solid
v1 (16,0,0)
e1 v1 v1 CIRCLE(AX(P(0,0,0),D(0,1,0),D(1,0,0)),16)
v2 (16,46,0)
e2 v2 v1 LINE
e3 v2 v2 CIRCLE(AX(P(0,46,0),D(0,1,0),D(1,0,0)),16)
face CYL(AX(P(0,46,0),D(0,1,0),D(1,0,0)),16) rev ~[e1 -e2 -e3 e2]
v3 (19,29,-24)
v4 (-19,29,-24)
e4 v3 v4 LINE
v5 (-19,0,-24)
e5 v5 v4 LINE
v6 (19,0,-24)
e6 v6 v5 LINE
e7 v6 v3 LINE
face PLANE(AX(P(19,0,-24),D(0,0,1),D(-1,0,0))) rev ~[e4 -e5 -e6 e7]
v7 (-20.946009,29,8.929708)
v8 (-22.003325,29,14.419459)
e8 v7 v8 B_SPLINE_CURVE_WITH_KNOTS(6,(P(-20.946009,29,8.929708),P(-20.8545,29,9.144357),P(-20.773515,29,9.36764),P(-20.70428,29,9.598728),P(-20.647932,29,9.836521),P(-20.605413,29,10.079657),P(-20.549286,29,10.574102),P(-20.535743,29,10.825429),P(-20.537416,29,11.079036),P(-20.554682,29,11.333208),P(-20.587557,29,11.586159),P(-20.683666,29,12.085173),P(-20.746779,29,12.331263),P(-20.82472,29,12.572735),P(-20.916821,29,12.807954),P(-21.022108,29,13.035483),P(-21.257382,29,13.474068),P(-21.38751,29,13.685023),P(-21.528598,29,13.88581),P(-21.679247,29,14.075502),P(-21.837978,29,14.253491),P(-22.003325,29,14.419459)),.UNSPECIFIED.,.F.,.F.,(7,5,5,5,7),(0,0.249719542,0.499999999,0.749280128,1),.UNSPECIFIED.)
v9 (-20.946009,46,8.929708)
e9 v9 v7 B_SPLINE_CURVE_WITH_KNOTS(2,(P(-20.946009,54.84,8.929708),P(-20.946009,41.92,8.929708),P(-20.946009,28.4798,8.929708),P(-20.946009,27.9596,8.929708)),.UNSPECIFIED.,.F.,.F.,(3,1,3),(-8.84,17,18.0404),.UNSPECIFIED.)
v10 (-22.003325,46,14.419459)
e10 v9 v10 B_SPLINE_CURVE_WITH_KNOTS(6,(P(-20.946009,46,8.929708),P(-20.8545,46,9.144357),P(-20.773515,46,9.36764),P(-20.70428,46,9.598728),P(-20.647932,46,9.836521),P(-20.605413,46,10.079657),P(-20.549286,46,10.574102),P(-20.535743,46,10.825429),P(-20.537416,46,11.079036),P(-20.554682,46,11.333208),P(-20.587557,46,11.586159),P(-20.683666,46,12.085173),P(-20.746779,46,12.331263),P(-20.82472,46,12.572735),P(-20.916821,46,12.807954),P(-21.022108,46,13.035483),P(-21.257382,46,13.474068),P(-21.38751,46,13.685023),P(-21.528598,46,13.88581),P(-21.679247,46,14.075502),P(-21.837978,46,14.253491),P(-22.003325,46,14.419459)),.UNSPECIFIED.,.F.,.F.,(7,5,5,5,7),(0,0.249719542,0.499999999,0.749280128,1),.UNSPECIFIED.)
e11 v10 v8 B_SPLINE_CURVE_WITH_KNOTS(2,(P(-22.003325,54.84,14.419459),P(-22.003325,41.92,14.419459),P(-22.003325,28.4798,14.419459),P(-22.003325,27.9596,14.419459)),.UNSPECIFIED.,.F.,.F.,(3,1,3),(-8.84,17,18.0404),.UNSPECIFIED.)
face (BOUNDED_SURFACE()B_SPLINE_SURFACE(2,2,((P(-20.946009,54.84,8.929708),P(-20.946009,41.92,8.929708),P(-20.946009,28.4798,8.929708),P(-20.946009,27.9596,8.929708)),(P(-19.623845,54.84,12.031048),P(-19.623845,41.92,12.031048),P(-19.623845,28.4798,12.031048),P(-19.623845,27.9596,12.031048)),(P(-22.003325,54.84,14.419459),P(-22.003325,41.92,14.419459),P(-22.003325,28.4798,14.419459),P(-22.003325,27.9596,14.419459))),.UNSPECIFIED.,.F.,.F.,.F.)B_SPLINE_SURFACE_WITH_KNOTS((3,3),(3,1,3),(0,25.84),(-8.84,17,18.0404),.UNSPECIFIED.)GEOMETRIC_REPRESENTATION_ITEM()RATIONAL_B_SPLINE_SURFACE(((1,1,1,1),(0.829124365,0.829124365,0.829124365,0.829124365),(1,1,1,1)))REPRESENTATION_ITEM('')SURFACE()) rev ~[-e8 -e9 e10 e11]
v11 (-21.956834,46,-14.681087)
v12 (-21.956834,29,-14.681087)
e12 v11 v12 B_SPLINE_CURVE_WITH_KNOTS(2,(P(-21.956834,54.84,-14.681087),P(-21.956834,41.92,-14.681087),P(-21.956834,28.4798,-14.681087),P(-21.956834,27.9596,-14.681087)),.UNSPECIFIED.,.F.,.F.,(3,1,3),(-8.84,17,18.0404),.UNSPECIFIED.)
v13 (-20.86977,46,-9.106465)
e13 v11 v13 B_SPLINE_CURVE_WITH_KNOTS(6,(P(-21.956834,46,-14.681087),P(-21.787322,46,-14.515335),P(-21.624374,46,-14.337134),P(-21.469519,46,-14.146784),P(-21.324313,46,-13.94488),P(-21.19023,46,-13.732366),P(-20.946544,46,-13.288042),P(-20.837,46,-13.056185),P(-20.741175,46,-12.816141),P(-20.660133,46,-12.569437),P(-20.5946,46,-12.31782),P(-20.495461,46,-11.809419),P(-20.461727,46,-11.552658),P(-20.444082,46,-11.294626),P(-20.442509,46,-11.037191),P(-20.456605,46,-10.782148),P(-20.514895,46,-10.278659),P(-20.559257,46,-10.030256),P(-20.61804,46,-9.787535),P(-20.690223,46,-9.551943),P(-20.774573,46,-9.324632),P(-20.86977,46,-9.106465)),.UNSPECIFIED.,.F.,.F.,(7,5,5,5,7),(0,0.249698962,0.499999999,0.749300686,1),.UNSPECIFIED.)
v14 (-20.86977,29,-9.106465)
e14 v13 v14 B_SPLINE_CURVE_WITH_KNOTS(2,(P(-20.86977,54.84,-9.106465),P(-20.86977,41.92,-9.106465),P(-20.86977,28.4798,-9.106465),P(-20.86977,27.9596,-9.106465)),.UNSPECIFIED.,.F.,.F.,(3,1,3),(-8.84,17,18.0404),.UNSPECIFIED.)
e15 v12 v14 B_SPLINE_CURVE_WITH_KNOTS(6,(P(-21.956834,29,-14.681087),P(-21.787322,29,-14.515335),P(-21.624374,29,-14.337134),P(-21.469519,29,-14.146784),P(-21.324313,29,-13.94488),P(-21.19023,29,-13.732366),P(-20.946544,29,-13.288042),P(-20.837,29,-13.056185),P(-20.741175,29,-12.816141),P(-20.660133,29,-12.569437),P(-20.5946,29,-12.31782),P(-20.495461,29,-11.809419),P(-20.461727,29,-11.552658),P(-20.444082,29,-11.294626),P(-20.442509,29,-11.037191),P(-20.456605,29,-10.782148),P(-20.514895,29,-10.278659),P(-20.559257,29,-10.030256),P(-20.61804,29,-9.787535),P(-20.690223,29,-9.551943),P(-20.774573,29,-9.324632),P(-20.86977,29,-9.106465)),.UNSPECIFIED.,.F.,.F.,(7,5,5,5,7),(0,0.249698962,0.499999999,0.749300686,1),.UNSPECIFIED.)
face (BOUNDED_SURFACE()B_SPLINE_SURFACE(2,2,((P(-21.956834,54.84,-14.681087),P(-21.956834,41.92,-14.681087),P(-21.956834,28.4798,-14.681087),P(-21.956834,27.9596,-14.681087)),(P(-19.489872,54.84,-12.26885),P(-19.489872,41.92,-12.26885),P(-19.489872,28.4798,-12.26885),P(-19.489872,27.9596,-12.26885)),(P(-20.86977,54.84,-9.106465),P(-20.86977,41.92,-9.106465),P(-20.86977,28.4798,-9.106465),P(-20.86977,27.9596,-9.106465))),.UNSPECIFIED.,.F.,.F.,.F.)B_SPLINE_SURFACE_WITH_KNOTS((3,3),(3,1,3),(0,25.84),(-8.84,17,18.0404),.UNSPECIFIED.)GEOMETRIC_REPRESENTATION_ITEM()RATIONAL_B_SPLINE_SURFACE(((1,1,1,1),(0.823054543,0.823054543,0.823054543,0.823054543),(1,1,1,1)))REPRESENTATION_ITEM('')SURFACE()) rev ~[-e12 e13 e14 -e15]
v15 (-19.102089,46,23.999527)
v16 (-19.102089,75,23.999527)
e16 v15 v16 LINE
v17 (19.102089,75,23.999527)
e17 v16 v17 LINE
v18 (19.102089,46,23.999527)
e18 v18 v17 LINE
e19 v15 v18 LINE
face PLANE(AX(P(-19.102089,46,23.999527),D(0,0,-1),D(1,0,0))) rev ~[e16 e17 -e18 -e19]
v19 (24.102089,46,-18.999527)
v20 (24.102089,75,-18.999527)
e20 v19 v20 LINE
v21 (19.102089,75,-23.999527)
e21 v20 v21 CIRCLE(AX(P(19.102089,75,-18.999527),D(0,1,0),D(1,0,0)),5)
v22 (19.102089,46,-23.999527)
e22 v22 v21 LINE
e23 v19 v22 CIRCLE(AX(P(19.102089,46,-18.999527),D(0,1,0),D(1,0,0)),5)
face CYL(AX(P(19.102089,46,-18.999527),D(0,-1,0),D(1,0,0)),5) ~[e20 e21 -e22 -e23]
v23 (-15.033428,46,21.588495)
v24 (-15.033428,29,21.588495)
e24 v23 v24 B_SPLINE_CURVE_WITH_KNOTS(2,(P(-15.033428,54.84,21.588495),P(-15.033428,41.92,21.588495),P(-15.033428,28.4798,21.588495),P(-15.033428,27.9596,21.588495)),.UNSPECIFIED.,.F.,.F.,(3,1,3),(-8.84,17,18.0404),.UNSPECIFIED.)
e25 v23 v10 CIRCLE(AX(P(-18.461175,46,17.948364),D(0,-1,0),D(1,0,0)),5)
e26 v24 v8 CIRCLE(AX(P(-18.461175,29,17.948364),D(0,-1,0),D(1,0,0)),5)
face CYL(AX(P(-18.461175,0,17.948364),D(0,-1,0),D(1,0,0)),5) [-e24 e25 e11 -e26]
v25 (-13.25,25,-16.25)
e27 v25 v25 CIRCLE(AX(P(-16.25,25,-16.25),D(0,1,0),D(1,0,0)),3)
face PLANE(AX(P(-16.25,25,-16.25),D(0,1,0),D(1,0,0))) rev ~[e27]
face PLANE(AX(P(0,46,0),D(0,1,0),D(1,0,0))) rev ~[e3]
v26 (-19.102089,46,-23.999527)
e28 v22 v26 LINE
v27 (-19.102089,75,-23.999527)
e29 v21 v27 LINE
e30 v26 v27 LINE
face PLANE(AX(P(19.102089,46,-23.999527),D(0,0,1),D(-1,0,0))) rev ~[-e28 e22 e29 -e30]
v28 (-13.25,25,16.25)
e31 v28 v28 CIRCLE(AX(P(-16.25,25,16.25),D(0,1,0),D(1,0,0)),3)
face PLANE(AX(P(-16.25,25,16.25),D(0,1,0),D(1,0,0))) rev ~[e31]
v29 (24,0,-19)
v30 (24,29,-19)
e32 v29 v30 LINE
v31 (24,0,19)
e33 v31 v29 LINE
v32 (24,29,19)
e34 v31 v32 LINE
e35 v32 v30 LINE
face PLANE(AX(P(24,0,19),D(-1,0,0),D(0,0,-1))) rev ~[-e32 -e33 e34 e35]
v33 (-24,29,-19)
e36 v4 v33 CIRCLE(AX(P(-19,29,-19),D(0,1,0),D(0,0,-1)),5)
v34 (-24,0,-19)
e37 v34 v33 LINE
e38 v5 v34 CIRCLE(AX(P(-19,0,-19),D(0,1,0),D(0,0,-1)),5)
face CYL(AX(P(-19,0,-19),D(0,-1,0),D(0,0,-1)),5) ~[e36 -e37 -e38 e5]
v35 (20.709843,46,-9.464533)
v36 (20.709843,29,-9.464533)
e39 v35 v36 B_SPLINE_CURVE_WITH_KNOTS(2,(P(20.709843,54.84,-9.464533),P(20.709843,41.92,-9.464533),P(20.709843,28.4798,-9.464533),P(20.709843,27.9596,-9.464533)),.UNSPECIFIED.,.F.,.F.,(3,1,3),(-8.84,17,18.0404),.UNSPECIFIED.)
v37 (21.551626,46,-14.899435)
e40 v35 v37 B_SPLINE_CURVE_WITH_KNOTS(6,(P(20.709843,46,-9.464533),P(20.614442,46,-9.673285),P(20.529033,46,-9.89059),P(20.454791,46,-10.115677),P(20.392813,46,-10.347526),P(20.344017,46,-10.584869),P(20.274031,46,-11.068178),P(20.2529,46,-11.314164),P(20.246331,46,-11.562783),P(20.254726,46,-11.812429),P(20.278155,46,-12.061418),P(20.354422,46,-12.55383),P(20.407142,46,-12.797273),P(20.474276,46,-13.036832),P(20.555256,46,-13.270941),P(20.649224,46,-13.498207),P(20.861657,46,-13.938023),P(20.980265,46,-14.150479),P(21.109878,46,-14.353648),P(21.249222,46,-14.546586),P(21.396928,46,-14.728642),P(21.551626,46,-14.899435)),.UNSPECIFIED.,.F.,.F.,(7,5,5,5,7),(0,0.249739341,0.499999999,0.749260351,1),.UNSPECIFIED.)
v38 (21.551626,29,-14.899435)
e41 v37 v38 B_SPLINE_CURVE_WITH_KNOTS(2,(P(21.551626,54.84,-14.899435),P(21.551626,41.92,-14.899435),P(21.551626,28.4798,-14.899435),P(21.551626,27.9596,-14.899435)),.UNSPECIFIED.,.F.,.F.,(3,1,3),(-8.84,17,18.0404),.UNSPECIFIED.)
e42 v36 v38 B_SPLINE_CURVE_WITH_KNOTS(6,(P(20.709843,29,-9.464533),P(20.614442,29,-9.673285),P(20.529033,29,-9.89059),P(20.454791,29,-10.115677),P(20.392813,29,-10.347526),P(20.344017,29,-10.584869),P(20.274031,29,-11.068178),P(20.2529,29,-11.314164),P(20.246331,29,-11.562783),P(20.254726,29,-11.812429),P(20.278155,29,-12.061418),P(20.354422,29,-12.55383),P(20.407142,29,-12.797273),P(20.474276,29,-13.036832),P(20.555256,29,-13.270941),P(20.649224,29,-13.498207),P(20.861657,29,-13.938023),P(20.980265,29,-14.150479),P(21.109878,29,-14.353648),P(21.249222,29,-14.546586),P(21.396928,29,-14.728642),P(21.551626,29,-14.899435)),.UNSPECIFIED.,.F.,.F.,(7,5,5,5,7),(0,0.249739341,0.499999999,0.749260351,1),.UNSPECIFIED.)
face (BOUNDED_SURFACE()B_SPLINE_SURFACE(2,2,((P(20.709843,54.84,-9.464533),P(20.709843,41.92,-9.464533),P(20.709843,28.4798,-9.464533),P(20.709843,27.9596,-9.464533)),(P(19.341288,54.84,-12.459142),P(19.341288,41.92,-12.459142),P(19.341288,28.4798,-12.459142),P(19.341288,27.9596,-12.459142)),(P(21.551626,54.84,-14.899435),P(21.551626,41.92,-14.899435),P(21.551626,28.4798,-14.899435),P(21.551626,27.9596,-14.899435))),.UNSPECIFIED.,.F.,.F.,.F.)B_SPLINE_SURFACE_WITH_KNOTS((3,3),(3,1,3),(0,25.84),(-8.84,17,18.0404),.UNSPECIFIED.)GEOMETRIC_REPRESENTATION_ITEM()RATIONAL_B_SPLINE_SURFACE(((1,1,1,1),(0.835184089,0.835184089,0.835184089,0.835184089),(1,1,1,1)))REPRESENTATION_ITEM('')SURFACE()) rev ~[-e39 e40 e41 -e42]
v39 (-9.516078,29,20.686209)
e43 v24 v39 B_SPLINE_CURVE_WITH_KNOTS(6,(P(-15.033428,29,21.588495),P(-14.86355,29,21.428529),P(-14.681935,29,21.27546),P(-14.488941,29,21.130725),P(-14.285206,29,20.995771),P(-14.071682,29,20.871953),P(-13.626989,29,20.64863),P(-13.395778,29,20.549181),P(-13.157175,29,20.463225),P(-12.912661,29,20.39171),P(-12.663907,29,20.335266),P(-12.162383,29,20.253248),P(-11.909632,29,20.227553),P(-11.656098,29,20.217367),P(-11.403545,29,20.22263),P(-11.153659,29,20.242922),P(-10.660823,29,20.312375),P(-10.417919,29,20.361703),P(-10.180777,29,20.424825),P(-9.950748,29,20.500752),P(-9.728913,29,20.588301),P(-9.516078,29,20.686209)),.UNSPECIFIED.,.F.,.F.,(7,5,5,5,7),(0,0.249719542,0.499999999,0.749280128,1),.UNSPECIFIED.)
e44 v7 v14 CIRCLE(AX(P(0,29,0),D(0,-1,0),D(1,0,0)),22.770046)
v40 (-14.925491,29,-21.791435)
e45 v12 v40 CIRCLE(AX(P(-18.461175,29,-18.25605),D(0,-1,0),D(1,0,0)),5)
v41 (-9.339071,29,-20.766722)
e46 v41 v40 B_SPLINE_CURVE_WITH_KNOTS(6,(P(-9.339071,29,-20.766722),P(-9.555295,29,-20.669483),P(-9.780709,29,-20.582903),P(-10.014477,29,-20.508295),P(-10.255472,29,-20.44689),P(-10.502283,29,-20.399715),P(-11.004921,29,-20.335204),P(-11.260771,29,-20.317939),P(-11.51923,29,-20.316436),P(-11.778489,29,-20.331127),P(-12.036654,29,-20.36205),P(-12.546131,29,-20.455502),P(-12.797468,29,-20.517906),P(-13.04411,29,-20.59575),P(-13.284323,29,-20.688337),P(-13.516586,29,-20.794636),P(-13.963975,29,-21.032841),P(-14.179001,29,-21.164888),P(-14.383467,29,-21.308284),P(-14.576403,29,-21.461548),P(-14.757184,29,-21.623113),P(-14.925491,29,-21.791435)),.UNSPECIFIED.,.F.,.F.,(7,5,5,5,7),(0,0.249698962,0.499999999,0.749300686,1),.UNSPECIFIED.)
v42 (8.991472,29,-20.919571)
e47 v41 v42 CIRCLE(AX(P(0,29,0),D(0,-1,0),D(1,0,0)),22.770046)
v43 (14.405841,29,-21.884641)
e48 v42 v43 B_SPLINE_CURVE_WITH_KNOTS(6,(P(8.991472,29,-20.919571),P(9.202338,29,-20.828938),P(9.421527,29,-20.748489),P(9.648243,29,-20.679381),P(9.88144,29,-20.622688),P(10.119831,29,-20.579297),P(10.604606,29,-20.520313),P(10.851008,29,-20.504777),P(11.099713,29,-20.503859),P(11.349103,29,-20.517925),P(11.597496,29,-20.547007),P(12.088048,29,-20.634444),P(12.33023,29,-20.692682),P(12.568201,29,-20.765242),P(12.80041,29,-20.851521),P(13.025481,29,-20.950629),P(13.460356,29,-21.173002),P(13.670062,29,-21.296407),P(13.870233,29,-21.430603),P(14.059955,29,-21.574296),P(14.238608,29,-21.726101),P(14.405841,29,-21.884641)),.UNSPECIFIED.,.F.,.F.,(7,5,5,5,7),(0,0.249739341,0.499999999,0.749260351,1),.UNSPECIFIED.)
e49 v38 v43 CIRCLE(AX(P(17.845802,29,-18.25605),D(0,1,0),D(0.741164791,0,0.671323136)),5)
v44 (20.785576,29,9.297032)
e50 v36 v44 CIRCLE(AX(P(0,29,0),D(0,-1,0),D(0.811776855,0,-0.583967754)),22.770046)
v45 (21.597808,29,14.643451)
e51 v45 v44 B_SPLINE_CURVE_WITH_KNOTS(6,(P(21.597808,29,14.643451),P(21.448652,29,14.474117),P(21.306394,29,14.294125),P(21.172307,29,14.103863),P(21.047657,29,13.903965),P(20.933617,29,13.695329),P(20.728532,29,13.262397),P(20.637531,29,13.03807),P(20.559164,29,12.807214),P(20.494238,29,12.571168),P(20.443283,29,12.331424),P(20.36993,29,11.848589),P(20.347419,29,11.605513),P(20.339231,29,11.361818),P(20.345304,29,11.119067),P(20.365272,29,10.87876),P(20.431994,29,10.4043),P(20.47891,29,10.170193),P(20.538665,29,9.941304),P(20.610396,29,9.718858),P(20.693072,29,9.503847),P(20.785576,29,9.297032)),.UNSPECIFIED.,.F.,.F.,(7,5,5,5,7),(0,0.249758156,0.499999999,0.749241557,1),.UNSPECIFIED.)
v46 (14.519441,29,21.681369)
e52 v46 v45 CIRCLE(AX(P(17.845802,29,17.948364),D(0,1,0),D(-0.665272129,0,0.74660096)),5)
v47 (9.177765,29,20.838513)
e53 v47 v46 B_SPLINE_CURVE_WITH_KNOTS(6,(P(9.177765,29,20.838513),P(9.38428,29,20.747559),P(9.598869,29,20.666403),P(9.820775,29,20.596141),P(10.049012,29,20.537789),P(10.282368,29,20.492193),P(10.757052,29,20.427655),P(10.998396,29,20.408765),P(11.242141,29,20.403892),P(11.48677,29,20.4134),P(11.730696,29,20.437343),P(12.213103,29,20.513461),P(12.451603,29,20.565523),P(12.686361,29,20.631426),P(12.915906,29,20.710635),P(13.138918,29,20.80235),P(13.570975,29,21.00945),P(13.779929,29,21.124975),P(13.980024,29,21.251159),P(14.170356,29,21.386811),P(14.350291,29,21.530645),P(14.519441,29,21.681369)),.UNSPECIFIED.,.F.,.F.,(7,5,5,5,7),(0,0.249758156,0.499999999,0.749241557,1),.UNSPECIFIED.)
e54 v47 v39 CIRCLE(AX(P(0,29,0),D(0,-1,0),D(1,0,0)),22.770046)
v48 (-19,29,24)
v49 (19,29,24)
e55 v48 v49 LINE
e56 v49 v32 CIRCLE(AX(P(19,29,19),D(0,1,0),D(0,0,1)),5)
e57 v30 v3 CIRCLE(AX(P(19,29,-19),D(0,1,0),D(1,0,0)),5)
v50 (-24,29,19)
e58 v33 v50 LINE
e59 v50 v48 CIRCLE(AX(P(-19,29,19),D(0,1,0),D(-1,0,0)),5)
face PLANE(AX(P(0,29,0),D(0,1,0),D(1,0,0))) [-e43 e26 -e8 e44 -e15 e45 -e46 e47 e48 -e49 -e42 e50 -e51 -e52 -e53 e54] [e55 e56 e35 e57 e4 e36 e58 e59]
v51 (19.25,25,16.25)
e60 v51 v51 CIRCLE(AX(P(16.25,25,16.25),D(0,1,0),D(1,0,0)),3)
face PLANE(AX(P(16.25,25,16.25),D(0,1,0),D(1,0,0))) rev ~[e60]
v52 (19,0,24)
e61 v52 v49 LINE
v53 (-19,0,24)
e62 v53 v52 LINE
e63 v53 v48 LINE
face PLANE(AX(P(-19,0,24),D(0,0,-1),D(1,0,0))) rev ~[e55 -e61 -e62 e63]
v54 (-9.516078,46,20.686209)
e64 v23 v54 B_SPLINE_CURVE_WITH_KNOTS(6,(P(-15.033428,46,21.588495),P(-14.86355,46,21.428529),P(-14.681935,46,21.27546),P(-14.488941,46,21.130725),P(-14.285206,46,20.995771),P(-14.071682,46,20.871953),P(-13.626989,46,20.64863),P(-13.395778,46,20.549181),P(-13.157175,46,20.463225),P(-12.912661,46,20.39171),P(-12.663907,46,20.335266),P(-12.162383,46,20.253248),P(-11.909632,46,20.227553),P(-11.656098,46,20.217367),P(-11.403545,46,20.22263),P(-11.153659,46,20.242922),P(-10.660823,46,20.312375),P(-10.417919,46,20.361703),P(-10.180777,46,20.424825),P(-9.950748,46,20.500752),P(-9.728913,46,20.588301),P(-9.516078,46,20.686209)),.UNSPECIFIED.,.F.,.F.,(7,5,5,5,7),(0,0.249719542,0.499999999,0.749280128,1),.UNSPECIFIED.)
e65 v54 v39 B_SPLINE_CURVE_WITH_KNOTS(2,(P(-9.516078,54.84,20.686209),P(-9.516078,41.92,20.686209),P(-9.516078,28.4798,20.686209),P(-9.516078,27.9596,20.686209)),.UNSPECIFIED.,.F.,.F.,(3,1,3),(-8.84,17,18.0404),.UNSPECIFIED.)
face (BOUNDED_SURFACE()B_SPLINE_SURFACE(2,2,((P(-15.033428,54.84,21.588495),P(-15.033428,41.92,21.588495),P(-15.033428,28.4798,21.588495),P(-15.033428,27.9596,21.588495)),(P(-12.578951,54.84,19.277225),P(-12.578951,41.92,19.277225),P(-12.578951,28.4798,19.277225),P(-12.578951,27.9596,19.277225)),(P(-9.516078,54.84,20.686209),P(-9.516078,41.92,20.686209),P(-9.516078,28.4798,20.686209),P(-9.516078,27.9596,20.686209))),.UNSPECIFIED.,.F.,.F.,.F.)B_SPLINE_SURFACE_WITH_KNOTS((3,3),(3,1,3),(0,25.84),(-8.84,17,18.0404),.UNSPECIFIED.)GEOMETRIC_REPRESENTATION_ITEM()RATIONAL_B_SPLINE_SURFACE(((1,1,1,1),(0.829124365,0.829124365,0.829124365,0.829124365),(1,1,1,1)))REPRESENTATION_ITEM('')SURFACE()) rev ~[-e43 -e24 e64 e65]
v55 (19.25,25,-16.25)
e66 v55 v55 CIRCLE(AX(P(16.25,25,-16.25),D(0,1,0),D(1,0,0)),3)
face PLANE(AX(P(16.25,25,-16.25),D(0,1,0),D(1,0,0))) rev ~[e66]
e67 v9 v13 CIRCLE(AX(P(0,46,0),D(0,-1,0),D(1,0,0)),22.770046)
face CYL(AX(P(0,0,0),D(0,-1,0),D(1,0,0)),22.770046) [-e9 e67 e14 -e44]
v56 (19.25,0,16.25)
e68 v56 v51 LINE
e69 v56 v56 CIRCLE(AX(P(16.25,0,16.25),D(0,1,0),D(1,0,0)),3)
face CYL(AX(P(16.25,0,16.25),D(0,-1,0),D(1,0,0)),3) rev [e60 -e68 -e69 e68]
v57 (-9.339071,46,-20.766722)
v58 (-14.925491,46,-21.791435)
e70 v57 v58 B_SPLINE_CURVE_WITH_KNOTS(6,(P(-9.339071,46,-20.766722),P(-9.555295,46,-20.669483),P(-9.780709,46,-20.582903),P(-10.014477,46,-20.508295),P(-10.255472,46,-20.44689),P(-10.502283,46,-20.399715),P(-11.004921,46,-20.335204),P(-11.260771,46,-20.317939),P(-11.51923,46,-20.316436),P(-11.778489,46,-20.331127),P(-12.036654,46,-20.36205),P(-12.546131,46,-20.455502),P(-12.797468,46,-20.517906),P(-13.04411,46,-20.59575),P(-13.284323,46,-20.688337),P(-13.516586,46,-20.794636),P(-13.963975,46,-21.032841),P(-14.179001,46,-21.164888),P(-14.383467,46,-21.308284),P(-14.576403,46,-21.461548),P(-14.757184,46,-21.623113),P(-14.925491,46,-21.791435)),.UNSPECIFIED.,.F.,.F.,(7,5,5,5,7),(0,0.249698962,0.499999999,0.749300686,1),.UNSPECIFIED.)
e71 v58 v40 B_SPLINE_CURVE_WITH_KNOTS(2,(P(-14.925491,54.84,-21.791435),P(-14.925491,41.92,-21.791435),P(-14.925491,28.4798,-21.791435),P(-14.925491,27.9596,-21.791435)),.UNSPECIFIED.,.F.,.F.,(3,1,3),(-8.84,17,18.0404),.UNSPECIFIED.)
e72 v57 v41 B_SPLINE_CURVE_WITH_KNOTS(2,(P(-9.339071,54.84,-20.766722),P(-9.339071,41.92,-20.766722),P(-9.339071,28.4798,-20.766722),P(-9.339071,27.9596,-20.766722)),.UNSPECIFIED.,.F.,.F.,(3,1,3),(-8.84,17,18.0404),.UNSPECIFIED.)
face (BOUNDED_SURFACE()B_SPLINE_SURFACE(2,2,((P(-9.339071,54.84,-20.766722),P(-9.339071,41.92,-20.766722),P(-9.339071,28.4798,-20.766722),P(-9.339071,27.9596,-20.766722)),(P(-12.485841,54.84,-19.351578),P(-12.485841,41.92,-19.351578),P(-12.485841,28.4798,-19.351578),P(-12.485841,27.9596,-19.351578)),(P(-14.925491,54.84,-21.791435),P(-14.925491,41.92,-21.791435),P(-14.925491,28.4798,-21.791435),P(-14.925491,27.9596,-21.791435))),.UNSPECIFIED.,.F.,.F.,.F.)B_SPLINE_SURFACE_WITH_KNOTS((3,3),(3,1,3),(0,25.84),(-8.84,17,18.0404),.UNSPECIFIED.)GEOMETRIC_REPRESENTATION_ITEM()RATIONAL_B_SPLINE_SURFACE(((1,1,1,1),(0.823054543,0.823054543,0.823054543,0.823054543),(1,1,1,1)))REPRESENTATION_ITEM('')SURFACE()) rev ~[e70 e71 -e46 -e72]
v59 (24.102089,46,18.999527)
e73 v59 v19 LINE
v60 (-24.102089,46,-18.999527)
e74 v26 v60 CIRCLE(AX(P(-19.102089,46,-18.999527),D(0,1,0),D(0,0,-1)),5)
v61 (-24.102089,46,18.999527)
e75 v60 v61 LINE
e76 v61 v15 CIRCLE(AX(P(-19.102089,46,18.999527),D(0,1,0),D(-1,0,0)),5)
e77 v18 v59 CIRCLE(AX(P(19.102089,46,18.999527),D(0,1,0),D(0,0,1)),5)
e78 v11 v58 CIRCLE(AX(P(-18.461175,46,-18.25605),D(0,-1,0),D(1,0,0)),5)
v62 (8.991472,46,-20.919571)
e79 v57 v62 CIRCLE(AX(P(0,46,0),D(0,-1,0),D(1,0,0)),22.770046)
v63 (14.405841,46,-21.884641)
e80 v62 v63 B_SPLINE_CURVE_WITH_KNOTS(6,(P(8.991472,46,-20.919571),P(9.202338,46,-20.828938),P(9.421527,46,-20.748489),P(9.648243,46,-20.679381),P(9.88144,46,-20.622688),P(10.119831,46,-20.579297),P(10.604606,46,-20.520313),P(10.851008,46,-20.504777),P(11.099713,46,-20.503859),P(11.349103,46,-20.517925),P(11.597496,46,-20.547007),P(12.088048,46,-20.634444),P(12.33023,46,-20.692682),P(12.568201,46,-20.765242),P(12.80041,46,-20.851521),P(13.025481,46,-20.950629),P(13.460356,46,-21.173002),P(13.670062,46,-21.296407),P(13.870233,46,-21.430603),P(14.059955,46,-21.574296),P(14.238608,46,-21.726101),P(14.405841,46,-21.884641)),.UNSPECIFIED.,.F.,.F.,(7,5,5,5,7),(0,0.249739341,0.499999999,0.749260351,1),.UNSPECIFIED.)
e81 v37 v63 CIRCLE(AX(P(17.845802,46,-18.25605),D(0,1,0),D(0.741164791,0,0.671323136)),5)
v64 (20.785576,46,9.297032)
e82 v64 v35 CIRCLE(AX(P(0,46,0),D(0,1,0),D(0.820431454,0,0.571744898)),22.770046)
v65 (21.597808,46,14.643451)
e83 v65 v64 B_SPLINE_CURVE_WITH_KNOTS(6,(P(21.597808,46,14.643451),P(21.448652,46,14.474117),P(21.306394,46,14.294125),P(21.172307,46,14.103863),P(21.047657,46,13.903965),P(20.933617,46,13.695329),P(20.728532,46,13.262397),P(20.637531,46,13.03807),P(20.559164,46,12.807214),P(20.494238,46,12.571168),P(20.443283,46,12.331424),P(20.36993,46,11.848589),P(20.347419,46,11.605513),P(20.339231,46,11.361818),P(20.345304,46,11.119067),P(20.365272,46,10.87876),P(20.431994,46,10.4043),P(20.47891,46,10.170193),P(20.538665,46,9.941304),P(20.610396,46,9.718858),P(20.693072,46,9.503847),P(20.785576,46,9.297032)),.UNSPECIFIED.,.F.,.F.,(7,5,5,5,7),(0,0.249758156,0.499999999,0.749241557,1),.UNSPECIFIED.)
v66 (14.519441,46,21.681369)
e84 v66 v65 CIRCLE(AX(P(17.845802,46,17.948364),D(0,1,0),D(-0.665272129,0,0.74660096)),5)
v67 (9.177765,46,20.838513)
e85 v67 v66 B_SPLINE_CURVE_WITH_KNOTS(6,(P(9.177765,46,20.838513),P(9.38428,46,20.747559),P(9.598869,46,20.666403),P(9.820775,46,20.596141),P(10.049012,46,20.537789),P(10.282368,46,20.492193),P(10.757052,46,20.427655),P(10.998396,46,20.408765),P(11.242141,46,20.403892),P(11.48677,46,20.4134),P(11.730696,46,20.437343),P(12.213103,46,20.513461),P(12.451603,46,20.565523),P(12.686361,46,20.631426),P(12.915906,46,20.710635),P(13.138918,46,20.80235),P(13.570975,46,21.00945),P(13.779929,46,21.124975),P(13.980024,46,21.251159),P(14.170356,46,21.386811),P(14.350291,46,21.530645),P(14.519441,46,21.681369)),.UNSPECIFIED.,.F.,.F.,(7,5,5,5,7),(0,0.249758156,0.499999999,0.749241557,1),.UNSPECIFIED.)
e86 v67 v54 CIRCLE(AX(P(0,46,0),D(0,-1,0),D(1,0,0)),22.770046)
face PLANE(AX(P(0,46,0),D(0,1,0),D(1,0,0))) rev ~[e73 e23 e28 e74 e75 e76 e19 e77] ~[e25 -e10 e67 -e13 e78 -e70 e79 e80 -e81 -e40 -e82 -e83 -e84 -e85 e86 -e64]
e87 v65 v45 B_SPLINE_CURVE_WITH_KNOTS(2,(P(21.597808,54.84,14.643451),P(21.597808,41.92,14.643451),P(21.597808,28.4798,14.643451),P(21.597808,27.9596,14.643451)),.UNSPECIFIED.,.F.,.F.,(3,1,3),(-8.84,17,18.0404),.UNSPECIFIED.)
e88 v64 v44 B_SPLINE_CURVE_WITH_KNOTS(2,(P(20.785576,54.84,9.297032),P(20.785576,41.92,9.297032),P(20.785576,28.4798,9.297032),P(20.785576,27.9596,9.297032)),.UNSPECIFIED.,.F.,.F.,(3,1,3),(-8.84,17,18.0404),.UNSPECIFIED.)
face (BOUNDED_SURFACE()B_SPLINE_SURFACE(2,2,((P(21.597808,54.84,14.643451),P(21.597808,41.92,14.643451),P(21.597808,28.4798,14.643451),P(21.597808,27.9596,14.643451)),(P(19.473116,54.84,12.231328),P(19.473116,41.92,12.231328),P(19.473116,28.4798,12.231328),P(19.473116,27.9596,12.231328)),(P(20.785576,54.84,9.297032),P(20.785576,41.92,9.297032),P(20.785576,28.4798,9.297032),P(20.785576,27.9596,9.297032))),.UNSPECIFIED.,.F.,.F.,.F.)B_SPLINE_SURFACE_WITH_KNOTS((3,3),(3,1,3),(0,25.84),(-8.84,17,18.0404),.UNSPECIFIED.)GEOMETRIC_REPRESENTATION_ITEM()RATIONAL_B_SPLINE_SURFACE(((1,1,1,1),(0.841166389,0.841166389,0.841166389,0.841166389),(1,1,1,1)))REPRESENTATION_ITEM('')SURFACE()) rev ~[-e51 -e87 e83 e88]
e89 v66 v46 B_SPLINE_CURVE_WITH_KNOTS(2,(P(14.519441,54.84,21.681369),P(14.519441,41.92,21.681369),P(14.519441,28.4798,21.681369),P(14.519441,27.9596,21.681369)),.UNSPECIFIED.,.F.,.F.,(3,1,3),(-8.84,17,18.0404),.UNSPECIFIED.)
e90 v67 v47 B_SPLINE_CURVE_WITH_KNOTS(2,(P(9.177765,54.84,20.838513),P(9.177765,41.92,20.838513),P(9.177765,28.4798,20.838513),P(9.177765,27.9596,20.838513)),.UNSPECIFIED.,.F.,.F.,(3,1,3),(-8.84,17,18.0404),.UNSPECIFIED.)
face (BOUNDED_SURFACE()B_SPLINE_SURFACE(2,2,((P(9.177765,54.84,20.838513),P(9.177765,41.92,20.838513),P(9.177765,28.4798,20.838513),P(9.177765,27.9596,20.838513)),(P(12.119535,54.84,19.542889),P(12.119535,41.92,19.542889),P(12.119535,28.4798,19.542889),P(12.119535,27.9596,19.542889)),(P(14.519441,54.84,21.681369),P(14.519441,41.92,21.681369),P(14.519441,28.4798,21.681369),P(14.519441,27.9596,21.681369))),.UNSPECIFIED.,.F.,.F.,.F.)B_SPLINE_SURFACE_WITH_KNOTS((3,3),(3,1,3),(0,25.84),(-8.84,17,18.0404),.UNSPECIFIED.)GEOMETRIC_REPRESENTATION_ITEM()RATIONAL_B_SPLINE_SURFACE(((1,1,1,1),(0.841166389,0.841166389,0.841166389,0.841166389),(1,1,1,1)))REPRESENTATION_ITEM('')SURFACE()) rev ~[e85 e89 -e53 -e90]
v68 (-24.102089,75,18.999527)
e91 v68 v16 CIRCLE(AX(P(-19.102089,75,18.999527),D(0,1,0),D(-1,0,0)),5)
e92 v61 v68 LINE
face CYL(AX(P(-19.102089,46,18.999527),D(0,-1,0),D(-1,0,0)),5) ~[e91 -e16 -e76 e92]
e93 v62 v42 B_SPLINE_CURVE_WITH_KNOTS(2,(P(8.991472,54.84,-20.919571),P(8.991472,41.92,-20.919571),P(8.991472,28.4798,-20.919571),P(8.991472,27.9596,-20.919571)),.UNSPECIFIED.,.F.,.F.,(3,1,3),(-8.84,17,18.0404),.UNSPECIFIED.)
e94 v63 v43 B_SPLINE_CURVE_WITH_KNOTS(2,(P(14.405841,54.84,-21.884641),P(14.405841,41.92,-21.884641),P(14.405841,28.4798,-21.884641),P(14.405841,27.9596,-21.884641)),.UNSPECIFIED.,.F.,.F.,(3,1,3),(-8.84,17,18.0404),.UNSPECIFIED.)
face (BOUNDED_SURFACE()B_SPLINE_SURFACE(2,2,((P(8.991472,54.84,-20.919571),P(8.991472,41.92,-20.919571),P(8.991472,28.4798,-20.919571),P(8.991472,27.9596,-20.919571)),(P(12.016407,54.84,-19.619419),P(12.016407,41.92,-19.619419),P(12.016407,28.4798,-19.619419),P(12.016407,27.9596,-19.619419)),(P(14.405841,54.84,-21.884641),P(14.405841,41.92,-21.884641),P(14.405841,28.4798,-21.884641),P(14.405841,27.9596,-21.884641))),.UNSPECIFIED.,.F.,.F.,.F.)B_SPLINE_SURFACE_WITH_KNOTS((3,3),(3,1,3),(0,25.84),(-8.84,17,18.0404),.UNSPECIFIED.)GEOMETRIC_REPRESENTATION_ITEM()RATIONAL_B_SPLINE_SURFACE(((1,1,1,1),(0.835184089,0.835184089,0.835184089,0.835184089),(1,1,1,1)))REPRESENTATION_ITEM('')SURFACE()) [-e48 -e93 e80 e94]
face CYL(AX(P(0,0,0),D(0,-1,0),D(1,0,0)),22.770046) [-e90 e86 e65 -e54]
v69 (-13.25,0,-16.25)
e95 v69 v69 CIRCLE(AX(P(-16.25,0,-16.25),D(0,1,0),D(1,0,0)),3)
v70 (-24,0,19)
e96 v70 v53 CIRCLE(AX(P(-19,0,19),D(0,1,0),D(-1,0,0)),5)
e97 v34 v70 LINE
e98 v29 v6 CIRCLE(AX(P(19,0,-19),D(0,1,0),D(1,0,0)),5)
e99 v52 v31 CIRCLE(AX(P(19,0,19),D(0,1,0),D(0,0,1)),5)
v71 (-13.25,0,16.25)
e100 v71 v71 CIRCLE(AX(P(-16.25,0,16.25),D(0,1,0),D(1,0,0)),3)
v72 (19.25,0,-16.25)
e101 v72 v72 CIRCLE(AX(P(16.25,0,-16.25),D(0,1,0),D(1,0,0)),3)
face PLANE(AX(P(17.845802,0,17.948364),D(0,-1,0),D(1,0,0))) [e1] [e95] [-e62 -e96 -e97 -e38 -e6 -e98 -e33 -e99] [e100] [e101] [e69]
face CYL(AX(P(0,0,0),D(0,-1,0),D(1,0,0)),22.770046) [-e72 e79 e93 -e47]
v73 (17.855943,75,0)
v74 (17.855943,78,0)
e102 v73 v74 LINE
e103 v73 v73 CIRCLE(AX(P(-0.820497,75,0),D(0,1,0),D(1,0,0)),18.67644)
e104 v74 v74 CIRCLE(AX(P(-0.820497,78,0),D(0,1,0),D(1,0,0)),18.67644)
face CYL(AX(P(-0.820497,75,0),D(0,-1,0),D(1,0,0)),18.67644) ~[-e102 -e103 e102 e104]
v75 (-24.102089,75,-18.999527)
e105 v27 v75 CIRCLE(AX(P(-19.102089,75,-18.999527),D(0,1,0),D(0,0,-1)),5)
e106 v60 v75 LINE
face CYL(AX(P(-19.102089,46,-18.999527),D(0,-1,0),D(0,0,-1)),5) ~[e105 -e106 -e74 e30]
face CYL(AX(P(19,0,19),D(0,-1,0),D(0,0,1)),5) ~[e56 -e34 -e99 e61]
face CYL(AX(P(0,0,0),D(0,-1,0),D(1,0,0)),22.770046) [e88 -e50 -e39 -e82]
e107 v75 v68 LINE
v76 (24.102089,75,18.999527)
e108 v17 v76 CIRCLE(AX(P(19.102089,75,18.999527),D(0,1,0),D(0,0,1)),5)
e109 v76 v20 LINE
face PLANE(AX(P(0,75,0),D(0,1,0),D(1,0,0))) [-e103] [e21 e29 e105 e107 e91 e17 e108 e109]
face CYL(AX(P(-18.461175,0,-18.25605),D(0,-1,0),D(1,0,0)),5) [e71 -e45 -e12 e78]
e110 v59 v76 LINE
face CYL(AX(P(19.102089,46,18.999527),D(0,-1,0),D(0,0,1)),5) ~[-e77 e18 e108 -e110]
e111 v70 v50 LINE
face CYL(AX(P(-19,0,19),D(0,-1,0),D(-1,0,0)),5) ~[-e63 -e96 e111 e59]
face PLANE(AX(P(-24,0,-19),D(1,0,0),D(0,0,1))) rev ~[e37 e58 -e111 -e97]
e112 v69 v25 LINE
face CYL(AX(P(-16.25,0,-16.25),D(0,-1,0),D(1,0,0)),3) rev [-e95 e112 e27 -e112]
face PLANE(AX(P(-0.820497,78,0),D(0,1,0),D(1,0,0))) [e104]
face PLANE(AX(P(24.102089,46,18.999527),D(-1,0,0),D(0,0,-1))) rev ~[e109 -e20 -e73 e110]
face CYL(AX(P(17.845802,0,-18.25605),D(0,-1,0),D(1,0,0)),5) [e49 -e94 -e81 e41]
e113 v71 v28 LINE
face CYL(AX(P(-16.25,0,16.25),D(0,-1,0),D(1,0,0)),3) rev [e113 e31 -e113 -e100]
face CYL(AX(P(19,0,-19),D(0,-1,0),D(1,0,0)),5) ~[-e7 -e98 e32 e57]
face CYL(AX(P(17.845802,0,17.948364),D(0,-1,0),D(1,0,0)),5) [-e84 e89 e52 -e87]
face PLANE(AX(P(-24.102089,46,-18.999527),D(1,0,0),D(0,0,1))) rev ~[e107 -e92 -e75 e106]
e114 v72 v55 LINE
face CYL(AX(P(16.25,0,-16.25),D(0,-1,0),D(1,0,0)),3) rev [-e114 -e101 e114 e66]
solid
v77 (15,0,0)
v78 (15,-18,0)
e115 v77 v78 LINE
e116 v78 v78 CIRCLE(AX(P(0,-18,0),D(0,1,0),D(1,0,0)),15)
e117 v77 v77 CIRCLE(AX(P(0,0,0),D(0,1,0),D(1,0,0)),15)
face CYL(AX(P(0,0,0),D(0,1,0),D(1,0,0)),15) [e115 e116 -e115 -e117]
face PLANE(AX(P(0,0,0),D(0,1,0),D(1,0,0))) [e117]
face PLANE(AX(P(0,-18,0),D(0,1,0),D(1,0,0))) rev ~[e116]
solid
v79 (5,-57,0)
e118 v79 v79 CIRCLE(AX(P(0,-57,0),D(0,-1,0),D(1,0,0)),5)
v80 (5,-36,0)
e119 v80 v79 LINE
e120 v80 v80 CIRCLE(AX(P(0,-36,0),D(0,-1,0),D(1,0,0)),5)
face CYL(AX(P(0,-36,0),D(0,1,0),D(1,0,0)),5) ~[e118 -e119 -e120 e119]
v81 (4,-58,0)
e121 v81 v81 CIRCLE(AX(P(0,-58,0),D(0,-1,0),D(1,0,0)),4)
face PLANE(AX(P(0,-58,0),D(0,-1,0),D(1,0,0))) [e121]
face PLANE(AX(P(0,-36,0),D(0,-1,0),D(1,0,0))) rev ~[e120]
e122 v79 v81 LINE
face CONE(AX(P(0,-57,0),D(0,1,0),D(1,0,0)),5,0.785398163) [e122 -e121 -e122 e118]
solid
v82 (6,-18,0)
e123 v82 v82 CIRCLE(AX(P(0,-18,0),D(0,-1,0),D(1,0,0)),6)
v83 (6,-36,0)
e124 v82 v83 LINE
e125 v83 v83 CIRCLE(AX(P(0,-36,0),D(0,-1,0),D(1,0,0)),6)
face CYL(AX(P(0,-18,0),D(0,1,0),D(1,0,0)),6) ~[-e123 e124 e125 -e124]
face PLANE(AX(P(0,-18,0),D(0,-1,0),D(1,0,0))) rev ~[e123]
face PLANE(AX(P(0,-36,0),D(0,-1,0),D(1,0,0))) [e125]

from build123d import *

# Parameters (mm, degrees)
SALIENTE_EXTRUIR1_DEPTH  = 29
CROQUIS2_R               = 22.770045983
SALIENTE_EXTRUIR2_DEPTH  = 46
CROQUIS3_R               = 16
CORTAR_EXTRUIR2_DEPTH    = 90
CROQUIS4_R               = 5
SALIENTE_EXTRUIR3_DEPTH  = 65
REDONDEO1_R              = 5
SALIENTE_EXTRUIR4_DEPTH  = 29
CROQUIS6_R               = 18.676439513
SALIENTE_EXTRUIR5_DEPTH  = 3
CROQUIS7_R               = 3
CORTAR_EXTRUIR3_DEPTH    = 25
CROQUIS8_R               = 15
SALIENTE_EXTRUIR7_DEPTH  = 18
CROQUIS9_R               = 6
SALIENTE_EXTRUIR9_DEPTH  = 18
CROQUIS10_R              = 5
SALIENTE_EXTRUIR11_DEPTH = 22
CHAFL_N1_SIZE            = 1


with BuildPart() as part:
    # Croquis1 → Saliente-Extruir1 (new body)
    with BuildSketch(Plane(origin=(0, 0, 0), x_dir=(1, 0, 0), z_dir=(0, 1, 0))):
        with BuildLine():
            Line((-19, -24), (19, -24))
            ThreePointArc((19, -24), (22.535533906, -22.535533906), (24, -19))
            Line((24, -19), (24, 19))
            ThreePointArc((24, 19), (22.535533906, 22.535533906), (19, 24))
            Line((19, 24), (-19, 24))
            ThreePointArc((-19, 24), (-22.535533906, 22.535533906), (-24, 19))
            Line((-24, 19), (-24, -19))
            ThreePointArc((-24, -19), (-22.535533906, -22.535533906), (-19, -24))
        make_face()
    extrude(amount=SALIENTE_EXTRUIR1_DEPTH)

    # Croquis2 → Saliente-Extruir2 (add)
    with BuildSketch(Plane.XZ):
        Circle(CROQUIS2_R)
    extrude(amount=-SALIENTE_EXTRUIR2_DEPTH)

    # Croquis3 → Cortar-Extruir2 (cut)
    with BuildSketch(Plane(origin=(0, 46, 0), x_dir=(1, 0, 0), z_dir=(0, 1, 0))):
        Circle(CROQUIS3_R)
    extrude(amount=-CORTAR_EXTRUIR2_DEPTH, mode=Mode.SUBTRACT)

    # Croquis4 → Saliente-Extruir3 (add)
    with BuildSketch(Plane.XZ):
        with Locations((17.845802116, 17.948364197)):
            Circle(CROQUIS4_R)
        with Locations((-18.461174602, 17.948364197)):
            Circle(CROQUIS4_R)
        with Locations((-18.461174602, -18.25605044)):
            Circle(CROQUIS4_R)
        with Locations((17.845802116, -18.25605044)):
            Circle(CROQUIS4_R)
    extrude(amount=-SALIENTE_EXTRUIR3_DEPTH)

    # Redondeo1
    redondeo1_edges = [part.edges().sort_by_distance(p)[0] for p in [
        (12.911388794, 37.5, 18.755560068),
        (18.681261941, 37.5, 13.018657625),
        (-18.725226903, 37.5, 12.955341427),
        (-13.477569022, 37.5, 18.35293239),
        (-13.462342306, 37.5, -18.364104489),
        (-18.513370775, 37.5, -13.256322892),
        (18.484196311, 37.5, -13.296972617),
        (12.873497796, 37.5, -18.78158802),
    ]]
    fillet(redondeo1_edges, radius=REDONDEO1_R)

    # Croquis5 → Saliente-Extruir4 (add)
    with BuildSketch(Plane(origin=(0, 46, 0), x_dir=(1, 0, 0), z_dir=(0, 1, 0))):
        with BuildLine():
            Line((-19.102089064, -23.999526983), (19.102089064, -23.999526983))
            ThreePointArc((19.102089064, -23.999526983), (22.63762297, -22.535060889), (24.102089064, -18.999526983))
            Line((24.102089064, -18.999526983), (24.102089064, 18.999526983))
            ThreePointArc((24.102089064, 18.999526983), (22.63762297, 22.535060889), (19.102089064, 23.999526983))
            Line((19.102089064, 23.999526983), (-19.102089064, 23.999526983))
            ThreePointArc((-19.102089064, 23.999526983), (-22.63762297, 22.535060889), (-24.102089064, 18.999526983))
            Line((-24.102089064, 18.999526983), (-24.102089064, -18.999526983))
            ThreePointArc((-24.102089064, -18.999526983), (-22.63762297, -22.535060889), (-19.102089064, -23.999526983))
        make_face()
    extrude(amount=SALIENTE_EXTRUIR4_DEPTH)

    # Croquis6 → Saliente-Extruir5 (add)
    with BuildSketch(Plane(origin=(0, 75, 0), x_dir=(1, 0, 0), z_dir=(0, 1, 0))):
        with Locations((-0.820496649, 0)):
            Circle(CROQUIS6_R)
    extrude(amount=SALIENTE_EXTRUIR5_DEPTH)

    # Croquis7 → Cortar-Extruir3 (cut)
    with BuildSketch(Plane(origin=(0, 0, 0), x_dir=(1, 0, 0), z_dir=(0, 1, 0))):
        with Locations((-16.25, 16.25)):
            Circle(CROQUIS7_R)
        with Locations((16.25, 16.25)):
            Circle(CROQUIS7_R)
        with Locations((16.25, -16.25)):
            Circle(CROQUIS7_R)
        with Locations((-16.25, -16.25)):
            Circle(CROQUIS7_R)
    extrude(amount=CORTAR_EXTRUIR3_DEPTH, mode=Mode.SUBTRACT)


with BuildPart() as body_2:
    # Croquis8 → Saliente-Extruir7 (new body)
    with BuildSketch(Plane(origin=(0, 0, 0), x_dir=(1, 0, 0), z_dir=(0, 1, 0))):
        Circle(CROQUIS8_R)
    extrude(amount=-SALIENTE_EXTRUIR7_DEPTH)


with BuildPart() as body_3:
    # Croquis9 → Saliente-Extruir9 (new body)
    with BuildSketch(Plane.XZ.offset(18)):
        Circle(CROQUIS9_R)
    extrude(amount=SALIENTE_EXTRUIR9_DEPTH)


with BuildPart() as body_4:
    # Croquis10 → Saliente-Extruir11 (new body)
    with BuildSketch(Plane.XZ.offset(36)):
        Circle(CROQUIS10_R)
    extrude(amount=SALIENTE_EXTRUIR11_DEPTH)

    # Chaflán1
    chafl_n1_edges = [body_4.edges().sort_by_distance(p)[0] for p in [
        (-5, -58, 0),
    ]]
    chamfer(chafl_n1_edges, length=CHAFL_N1_SIZE)


solid = Compound([part.part, body_2.part, body_3.part, body_4.part])
